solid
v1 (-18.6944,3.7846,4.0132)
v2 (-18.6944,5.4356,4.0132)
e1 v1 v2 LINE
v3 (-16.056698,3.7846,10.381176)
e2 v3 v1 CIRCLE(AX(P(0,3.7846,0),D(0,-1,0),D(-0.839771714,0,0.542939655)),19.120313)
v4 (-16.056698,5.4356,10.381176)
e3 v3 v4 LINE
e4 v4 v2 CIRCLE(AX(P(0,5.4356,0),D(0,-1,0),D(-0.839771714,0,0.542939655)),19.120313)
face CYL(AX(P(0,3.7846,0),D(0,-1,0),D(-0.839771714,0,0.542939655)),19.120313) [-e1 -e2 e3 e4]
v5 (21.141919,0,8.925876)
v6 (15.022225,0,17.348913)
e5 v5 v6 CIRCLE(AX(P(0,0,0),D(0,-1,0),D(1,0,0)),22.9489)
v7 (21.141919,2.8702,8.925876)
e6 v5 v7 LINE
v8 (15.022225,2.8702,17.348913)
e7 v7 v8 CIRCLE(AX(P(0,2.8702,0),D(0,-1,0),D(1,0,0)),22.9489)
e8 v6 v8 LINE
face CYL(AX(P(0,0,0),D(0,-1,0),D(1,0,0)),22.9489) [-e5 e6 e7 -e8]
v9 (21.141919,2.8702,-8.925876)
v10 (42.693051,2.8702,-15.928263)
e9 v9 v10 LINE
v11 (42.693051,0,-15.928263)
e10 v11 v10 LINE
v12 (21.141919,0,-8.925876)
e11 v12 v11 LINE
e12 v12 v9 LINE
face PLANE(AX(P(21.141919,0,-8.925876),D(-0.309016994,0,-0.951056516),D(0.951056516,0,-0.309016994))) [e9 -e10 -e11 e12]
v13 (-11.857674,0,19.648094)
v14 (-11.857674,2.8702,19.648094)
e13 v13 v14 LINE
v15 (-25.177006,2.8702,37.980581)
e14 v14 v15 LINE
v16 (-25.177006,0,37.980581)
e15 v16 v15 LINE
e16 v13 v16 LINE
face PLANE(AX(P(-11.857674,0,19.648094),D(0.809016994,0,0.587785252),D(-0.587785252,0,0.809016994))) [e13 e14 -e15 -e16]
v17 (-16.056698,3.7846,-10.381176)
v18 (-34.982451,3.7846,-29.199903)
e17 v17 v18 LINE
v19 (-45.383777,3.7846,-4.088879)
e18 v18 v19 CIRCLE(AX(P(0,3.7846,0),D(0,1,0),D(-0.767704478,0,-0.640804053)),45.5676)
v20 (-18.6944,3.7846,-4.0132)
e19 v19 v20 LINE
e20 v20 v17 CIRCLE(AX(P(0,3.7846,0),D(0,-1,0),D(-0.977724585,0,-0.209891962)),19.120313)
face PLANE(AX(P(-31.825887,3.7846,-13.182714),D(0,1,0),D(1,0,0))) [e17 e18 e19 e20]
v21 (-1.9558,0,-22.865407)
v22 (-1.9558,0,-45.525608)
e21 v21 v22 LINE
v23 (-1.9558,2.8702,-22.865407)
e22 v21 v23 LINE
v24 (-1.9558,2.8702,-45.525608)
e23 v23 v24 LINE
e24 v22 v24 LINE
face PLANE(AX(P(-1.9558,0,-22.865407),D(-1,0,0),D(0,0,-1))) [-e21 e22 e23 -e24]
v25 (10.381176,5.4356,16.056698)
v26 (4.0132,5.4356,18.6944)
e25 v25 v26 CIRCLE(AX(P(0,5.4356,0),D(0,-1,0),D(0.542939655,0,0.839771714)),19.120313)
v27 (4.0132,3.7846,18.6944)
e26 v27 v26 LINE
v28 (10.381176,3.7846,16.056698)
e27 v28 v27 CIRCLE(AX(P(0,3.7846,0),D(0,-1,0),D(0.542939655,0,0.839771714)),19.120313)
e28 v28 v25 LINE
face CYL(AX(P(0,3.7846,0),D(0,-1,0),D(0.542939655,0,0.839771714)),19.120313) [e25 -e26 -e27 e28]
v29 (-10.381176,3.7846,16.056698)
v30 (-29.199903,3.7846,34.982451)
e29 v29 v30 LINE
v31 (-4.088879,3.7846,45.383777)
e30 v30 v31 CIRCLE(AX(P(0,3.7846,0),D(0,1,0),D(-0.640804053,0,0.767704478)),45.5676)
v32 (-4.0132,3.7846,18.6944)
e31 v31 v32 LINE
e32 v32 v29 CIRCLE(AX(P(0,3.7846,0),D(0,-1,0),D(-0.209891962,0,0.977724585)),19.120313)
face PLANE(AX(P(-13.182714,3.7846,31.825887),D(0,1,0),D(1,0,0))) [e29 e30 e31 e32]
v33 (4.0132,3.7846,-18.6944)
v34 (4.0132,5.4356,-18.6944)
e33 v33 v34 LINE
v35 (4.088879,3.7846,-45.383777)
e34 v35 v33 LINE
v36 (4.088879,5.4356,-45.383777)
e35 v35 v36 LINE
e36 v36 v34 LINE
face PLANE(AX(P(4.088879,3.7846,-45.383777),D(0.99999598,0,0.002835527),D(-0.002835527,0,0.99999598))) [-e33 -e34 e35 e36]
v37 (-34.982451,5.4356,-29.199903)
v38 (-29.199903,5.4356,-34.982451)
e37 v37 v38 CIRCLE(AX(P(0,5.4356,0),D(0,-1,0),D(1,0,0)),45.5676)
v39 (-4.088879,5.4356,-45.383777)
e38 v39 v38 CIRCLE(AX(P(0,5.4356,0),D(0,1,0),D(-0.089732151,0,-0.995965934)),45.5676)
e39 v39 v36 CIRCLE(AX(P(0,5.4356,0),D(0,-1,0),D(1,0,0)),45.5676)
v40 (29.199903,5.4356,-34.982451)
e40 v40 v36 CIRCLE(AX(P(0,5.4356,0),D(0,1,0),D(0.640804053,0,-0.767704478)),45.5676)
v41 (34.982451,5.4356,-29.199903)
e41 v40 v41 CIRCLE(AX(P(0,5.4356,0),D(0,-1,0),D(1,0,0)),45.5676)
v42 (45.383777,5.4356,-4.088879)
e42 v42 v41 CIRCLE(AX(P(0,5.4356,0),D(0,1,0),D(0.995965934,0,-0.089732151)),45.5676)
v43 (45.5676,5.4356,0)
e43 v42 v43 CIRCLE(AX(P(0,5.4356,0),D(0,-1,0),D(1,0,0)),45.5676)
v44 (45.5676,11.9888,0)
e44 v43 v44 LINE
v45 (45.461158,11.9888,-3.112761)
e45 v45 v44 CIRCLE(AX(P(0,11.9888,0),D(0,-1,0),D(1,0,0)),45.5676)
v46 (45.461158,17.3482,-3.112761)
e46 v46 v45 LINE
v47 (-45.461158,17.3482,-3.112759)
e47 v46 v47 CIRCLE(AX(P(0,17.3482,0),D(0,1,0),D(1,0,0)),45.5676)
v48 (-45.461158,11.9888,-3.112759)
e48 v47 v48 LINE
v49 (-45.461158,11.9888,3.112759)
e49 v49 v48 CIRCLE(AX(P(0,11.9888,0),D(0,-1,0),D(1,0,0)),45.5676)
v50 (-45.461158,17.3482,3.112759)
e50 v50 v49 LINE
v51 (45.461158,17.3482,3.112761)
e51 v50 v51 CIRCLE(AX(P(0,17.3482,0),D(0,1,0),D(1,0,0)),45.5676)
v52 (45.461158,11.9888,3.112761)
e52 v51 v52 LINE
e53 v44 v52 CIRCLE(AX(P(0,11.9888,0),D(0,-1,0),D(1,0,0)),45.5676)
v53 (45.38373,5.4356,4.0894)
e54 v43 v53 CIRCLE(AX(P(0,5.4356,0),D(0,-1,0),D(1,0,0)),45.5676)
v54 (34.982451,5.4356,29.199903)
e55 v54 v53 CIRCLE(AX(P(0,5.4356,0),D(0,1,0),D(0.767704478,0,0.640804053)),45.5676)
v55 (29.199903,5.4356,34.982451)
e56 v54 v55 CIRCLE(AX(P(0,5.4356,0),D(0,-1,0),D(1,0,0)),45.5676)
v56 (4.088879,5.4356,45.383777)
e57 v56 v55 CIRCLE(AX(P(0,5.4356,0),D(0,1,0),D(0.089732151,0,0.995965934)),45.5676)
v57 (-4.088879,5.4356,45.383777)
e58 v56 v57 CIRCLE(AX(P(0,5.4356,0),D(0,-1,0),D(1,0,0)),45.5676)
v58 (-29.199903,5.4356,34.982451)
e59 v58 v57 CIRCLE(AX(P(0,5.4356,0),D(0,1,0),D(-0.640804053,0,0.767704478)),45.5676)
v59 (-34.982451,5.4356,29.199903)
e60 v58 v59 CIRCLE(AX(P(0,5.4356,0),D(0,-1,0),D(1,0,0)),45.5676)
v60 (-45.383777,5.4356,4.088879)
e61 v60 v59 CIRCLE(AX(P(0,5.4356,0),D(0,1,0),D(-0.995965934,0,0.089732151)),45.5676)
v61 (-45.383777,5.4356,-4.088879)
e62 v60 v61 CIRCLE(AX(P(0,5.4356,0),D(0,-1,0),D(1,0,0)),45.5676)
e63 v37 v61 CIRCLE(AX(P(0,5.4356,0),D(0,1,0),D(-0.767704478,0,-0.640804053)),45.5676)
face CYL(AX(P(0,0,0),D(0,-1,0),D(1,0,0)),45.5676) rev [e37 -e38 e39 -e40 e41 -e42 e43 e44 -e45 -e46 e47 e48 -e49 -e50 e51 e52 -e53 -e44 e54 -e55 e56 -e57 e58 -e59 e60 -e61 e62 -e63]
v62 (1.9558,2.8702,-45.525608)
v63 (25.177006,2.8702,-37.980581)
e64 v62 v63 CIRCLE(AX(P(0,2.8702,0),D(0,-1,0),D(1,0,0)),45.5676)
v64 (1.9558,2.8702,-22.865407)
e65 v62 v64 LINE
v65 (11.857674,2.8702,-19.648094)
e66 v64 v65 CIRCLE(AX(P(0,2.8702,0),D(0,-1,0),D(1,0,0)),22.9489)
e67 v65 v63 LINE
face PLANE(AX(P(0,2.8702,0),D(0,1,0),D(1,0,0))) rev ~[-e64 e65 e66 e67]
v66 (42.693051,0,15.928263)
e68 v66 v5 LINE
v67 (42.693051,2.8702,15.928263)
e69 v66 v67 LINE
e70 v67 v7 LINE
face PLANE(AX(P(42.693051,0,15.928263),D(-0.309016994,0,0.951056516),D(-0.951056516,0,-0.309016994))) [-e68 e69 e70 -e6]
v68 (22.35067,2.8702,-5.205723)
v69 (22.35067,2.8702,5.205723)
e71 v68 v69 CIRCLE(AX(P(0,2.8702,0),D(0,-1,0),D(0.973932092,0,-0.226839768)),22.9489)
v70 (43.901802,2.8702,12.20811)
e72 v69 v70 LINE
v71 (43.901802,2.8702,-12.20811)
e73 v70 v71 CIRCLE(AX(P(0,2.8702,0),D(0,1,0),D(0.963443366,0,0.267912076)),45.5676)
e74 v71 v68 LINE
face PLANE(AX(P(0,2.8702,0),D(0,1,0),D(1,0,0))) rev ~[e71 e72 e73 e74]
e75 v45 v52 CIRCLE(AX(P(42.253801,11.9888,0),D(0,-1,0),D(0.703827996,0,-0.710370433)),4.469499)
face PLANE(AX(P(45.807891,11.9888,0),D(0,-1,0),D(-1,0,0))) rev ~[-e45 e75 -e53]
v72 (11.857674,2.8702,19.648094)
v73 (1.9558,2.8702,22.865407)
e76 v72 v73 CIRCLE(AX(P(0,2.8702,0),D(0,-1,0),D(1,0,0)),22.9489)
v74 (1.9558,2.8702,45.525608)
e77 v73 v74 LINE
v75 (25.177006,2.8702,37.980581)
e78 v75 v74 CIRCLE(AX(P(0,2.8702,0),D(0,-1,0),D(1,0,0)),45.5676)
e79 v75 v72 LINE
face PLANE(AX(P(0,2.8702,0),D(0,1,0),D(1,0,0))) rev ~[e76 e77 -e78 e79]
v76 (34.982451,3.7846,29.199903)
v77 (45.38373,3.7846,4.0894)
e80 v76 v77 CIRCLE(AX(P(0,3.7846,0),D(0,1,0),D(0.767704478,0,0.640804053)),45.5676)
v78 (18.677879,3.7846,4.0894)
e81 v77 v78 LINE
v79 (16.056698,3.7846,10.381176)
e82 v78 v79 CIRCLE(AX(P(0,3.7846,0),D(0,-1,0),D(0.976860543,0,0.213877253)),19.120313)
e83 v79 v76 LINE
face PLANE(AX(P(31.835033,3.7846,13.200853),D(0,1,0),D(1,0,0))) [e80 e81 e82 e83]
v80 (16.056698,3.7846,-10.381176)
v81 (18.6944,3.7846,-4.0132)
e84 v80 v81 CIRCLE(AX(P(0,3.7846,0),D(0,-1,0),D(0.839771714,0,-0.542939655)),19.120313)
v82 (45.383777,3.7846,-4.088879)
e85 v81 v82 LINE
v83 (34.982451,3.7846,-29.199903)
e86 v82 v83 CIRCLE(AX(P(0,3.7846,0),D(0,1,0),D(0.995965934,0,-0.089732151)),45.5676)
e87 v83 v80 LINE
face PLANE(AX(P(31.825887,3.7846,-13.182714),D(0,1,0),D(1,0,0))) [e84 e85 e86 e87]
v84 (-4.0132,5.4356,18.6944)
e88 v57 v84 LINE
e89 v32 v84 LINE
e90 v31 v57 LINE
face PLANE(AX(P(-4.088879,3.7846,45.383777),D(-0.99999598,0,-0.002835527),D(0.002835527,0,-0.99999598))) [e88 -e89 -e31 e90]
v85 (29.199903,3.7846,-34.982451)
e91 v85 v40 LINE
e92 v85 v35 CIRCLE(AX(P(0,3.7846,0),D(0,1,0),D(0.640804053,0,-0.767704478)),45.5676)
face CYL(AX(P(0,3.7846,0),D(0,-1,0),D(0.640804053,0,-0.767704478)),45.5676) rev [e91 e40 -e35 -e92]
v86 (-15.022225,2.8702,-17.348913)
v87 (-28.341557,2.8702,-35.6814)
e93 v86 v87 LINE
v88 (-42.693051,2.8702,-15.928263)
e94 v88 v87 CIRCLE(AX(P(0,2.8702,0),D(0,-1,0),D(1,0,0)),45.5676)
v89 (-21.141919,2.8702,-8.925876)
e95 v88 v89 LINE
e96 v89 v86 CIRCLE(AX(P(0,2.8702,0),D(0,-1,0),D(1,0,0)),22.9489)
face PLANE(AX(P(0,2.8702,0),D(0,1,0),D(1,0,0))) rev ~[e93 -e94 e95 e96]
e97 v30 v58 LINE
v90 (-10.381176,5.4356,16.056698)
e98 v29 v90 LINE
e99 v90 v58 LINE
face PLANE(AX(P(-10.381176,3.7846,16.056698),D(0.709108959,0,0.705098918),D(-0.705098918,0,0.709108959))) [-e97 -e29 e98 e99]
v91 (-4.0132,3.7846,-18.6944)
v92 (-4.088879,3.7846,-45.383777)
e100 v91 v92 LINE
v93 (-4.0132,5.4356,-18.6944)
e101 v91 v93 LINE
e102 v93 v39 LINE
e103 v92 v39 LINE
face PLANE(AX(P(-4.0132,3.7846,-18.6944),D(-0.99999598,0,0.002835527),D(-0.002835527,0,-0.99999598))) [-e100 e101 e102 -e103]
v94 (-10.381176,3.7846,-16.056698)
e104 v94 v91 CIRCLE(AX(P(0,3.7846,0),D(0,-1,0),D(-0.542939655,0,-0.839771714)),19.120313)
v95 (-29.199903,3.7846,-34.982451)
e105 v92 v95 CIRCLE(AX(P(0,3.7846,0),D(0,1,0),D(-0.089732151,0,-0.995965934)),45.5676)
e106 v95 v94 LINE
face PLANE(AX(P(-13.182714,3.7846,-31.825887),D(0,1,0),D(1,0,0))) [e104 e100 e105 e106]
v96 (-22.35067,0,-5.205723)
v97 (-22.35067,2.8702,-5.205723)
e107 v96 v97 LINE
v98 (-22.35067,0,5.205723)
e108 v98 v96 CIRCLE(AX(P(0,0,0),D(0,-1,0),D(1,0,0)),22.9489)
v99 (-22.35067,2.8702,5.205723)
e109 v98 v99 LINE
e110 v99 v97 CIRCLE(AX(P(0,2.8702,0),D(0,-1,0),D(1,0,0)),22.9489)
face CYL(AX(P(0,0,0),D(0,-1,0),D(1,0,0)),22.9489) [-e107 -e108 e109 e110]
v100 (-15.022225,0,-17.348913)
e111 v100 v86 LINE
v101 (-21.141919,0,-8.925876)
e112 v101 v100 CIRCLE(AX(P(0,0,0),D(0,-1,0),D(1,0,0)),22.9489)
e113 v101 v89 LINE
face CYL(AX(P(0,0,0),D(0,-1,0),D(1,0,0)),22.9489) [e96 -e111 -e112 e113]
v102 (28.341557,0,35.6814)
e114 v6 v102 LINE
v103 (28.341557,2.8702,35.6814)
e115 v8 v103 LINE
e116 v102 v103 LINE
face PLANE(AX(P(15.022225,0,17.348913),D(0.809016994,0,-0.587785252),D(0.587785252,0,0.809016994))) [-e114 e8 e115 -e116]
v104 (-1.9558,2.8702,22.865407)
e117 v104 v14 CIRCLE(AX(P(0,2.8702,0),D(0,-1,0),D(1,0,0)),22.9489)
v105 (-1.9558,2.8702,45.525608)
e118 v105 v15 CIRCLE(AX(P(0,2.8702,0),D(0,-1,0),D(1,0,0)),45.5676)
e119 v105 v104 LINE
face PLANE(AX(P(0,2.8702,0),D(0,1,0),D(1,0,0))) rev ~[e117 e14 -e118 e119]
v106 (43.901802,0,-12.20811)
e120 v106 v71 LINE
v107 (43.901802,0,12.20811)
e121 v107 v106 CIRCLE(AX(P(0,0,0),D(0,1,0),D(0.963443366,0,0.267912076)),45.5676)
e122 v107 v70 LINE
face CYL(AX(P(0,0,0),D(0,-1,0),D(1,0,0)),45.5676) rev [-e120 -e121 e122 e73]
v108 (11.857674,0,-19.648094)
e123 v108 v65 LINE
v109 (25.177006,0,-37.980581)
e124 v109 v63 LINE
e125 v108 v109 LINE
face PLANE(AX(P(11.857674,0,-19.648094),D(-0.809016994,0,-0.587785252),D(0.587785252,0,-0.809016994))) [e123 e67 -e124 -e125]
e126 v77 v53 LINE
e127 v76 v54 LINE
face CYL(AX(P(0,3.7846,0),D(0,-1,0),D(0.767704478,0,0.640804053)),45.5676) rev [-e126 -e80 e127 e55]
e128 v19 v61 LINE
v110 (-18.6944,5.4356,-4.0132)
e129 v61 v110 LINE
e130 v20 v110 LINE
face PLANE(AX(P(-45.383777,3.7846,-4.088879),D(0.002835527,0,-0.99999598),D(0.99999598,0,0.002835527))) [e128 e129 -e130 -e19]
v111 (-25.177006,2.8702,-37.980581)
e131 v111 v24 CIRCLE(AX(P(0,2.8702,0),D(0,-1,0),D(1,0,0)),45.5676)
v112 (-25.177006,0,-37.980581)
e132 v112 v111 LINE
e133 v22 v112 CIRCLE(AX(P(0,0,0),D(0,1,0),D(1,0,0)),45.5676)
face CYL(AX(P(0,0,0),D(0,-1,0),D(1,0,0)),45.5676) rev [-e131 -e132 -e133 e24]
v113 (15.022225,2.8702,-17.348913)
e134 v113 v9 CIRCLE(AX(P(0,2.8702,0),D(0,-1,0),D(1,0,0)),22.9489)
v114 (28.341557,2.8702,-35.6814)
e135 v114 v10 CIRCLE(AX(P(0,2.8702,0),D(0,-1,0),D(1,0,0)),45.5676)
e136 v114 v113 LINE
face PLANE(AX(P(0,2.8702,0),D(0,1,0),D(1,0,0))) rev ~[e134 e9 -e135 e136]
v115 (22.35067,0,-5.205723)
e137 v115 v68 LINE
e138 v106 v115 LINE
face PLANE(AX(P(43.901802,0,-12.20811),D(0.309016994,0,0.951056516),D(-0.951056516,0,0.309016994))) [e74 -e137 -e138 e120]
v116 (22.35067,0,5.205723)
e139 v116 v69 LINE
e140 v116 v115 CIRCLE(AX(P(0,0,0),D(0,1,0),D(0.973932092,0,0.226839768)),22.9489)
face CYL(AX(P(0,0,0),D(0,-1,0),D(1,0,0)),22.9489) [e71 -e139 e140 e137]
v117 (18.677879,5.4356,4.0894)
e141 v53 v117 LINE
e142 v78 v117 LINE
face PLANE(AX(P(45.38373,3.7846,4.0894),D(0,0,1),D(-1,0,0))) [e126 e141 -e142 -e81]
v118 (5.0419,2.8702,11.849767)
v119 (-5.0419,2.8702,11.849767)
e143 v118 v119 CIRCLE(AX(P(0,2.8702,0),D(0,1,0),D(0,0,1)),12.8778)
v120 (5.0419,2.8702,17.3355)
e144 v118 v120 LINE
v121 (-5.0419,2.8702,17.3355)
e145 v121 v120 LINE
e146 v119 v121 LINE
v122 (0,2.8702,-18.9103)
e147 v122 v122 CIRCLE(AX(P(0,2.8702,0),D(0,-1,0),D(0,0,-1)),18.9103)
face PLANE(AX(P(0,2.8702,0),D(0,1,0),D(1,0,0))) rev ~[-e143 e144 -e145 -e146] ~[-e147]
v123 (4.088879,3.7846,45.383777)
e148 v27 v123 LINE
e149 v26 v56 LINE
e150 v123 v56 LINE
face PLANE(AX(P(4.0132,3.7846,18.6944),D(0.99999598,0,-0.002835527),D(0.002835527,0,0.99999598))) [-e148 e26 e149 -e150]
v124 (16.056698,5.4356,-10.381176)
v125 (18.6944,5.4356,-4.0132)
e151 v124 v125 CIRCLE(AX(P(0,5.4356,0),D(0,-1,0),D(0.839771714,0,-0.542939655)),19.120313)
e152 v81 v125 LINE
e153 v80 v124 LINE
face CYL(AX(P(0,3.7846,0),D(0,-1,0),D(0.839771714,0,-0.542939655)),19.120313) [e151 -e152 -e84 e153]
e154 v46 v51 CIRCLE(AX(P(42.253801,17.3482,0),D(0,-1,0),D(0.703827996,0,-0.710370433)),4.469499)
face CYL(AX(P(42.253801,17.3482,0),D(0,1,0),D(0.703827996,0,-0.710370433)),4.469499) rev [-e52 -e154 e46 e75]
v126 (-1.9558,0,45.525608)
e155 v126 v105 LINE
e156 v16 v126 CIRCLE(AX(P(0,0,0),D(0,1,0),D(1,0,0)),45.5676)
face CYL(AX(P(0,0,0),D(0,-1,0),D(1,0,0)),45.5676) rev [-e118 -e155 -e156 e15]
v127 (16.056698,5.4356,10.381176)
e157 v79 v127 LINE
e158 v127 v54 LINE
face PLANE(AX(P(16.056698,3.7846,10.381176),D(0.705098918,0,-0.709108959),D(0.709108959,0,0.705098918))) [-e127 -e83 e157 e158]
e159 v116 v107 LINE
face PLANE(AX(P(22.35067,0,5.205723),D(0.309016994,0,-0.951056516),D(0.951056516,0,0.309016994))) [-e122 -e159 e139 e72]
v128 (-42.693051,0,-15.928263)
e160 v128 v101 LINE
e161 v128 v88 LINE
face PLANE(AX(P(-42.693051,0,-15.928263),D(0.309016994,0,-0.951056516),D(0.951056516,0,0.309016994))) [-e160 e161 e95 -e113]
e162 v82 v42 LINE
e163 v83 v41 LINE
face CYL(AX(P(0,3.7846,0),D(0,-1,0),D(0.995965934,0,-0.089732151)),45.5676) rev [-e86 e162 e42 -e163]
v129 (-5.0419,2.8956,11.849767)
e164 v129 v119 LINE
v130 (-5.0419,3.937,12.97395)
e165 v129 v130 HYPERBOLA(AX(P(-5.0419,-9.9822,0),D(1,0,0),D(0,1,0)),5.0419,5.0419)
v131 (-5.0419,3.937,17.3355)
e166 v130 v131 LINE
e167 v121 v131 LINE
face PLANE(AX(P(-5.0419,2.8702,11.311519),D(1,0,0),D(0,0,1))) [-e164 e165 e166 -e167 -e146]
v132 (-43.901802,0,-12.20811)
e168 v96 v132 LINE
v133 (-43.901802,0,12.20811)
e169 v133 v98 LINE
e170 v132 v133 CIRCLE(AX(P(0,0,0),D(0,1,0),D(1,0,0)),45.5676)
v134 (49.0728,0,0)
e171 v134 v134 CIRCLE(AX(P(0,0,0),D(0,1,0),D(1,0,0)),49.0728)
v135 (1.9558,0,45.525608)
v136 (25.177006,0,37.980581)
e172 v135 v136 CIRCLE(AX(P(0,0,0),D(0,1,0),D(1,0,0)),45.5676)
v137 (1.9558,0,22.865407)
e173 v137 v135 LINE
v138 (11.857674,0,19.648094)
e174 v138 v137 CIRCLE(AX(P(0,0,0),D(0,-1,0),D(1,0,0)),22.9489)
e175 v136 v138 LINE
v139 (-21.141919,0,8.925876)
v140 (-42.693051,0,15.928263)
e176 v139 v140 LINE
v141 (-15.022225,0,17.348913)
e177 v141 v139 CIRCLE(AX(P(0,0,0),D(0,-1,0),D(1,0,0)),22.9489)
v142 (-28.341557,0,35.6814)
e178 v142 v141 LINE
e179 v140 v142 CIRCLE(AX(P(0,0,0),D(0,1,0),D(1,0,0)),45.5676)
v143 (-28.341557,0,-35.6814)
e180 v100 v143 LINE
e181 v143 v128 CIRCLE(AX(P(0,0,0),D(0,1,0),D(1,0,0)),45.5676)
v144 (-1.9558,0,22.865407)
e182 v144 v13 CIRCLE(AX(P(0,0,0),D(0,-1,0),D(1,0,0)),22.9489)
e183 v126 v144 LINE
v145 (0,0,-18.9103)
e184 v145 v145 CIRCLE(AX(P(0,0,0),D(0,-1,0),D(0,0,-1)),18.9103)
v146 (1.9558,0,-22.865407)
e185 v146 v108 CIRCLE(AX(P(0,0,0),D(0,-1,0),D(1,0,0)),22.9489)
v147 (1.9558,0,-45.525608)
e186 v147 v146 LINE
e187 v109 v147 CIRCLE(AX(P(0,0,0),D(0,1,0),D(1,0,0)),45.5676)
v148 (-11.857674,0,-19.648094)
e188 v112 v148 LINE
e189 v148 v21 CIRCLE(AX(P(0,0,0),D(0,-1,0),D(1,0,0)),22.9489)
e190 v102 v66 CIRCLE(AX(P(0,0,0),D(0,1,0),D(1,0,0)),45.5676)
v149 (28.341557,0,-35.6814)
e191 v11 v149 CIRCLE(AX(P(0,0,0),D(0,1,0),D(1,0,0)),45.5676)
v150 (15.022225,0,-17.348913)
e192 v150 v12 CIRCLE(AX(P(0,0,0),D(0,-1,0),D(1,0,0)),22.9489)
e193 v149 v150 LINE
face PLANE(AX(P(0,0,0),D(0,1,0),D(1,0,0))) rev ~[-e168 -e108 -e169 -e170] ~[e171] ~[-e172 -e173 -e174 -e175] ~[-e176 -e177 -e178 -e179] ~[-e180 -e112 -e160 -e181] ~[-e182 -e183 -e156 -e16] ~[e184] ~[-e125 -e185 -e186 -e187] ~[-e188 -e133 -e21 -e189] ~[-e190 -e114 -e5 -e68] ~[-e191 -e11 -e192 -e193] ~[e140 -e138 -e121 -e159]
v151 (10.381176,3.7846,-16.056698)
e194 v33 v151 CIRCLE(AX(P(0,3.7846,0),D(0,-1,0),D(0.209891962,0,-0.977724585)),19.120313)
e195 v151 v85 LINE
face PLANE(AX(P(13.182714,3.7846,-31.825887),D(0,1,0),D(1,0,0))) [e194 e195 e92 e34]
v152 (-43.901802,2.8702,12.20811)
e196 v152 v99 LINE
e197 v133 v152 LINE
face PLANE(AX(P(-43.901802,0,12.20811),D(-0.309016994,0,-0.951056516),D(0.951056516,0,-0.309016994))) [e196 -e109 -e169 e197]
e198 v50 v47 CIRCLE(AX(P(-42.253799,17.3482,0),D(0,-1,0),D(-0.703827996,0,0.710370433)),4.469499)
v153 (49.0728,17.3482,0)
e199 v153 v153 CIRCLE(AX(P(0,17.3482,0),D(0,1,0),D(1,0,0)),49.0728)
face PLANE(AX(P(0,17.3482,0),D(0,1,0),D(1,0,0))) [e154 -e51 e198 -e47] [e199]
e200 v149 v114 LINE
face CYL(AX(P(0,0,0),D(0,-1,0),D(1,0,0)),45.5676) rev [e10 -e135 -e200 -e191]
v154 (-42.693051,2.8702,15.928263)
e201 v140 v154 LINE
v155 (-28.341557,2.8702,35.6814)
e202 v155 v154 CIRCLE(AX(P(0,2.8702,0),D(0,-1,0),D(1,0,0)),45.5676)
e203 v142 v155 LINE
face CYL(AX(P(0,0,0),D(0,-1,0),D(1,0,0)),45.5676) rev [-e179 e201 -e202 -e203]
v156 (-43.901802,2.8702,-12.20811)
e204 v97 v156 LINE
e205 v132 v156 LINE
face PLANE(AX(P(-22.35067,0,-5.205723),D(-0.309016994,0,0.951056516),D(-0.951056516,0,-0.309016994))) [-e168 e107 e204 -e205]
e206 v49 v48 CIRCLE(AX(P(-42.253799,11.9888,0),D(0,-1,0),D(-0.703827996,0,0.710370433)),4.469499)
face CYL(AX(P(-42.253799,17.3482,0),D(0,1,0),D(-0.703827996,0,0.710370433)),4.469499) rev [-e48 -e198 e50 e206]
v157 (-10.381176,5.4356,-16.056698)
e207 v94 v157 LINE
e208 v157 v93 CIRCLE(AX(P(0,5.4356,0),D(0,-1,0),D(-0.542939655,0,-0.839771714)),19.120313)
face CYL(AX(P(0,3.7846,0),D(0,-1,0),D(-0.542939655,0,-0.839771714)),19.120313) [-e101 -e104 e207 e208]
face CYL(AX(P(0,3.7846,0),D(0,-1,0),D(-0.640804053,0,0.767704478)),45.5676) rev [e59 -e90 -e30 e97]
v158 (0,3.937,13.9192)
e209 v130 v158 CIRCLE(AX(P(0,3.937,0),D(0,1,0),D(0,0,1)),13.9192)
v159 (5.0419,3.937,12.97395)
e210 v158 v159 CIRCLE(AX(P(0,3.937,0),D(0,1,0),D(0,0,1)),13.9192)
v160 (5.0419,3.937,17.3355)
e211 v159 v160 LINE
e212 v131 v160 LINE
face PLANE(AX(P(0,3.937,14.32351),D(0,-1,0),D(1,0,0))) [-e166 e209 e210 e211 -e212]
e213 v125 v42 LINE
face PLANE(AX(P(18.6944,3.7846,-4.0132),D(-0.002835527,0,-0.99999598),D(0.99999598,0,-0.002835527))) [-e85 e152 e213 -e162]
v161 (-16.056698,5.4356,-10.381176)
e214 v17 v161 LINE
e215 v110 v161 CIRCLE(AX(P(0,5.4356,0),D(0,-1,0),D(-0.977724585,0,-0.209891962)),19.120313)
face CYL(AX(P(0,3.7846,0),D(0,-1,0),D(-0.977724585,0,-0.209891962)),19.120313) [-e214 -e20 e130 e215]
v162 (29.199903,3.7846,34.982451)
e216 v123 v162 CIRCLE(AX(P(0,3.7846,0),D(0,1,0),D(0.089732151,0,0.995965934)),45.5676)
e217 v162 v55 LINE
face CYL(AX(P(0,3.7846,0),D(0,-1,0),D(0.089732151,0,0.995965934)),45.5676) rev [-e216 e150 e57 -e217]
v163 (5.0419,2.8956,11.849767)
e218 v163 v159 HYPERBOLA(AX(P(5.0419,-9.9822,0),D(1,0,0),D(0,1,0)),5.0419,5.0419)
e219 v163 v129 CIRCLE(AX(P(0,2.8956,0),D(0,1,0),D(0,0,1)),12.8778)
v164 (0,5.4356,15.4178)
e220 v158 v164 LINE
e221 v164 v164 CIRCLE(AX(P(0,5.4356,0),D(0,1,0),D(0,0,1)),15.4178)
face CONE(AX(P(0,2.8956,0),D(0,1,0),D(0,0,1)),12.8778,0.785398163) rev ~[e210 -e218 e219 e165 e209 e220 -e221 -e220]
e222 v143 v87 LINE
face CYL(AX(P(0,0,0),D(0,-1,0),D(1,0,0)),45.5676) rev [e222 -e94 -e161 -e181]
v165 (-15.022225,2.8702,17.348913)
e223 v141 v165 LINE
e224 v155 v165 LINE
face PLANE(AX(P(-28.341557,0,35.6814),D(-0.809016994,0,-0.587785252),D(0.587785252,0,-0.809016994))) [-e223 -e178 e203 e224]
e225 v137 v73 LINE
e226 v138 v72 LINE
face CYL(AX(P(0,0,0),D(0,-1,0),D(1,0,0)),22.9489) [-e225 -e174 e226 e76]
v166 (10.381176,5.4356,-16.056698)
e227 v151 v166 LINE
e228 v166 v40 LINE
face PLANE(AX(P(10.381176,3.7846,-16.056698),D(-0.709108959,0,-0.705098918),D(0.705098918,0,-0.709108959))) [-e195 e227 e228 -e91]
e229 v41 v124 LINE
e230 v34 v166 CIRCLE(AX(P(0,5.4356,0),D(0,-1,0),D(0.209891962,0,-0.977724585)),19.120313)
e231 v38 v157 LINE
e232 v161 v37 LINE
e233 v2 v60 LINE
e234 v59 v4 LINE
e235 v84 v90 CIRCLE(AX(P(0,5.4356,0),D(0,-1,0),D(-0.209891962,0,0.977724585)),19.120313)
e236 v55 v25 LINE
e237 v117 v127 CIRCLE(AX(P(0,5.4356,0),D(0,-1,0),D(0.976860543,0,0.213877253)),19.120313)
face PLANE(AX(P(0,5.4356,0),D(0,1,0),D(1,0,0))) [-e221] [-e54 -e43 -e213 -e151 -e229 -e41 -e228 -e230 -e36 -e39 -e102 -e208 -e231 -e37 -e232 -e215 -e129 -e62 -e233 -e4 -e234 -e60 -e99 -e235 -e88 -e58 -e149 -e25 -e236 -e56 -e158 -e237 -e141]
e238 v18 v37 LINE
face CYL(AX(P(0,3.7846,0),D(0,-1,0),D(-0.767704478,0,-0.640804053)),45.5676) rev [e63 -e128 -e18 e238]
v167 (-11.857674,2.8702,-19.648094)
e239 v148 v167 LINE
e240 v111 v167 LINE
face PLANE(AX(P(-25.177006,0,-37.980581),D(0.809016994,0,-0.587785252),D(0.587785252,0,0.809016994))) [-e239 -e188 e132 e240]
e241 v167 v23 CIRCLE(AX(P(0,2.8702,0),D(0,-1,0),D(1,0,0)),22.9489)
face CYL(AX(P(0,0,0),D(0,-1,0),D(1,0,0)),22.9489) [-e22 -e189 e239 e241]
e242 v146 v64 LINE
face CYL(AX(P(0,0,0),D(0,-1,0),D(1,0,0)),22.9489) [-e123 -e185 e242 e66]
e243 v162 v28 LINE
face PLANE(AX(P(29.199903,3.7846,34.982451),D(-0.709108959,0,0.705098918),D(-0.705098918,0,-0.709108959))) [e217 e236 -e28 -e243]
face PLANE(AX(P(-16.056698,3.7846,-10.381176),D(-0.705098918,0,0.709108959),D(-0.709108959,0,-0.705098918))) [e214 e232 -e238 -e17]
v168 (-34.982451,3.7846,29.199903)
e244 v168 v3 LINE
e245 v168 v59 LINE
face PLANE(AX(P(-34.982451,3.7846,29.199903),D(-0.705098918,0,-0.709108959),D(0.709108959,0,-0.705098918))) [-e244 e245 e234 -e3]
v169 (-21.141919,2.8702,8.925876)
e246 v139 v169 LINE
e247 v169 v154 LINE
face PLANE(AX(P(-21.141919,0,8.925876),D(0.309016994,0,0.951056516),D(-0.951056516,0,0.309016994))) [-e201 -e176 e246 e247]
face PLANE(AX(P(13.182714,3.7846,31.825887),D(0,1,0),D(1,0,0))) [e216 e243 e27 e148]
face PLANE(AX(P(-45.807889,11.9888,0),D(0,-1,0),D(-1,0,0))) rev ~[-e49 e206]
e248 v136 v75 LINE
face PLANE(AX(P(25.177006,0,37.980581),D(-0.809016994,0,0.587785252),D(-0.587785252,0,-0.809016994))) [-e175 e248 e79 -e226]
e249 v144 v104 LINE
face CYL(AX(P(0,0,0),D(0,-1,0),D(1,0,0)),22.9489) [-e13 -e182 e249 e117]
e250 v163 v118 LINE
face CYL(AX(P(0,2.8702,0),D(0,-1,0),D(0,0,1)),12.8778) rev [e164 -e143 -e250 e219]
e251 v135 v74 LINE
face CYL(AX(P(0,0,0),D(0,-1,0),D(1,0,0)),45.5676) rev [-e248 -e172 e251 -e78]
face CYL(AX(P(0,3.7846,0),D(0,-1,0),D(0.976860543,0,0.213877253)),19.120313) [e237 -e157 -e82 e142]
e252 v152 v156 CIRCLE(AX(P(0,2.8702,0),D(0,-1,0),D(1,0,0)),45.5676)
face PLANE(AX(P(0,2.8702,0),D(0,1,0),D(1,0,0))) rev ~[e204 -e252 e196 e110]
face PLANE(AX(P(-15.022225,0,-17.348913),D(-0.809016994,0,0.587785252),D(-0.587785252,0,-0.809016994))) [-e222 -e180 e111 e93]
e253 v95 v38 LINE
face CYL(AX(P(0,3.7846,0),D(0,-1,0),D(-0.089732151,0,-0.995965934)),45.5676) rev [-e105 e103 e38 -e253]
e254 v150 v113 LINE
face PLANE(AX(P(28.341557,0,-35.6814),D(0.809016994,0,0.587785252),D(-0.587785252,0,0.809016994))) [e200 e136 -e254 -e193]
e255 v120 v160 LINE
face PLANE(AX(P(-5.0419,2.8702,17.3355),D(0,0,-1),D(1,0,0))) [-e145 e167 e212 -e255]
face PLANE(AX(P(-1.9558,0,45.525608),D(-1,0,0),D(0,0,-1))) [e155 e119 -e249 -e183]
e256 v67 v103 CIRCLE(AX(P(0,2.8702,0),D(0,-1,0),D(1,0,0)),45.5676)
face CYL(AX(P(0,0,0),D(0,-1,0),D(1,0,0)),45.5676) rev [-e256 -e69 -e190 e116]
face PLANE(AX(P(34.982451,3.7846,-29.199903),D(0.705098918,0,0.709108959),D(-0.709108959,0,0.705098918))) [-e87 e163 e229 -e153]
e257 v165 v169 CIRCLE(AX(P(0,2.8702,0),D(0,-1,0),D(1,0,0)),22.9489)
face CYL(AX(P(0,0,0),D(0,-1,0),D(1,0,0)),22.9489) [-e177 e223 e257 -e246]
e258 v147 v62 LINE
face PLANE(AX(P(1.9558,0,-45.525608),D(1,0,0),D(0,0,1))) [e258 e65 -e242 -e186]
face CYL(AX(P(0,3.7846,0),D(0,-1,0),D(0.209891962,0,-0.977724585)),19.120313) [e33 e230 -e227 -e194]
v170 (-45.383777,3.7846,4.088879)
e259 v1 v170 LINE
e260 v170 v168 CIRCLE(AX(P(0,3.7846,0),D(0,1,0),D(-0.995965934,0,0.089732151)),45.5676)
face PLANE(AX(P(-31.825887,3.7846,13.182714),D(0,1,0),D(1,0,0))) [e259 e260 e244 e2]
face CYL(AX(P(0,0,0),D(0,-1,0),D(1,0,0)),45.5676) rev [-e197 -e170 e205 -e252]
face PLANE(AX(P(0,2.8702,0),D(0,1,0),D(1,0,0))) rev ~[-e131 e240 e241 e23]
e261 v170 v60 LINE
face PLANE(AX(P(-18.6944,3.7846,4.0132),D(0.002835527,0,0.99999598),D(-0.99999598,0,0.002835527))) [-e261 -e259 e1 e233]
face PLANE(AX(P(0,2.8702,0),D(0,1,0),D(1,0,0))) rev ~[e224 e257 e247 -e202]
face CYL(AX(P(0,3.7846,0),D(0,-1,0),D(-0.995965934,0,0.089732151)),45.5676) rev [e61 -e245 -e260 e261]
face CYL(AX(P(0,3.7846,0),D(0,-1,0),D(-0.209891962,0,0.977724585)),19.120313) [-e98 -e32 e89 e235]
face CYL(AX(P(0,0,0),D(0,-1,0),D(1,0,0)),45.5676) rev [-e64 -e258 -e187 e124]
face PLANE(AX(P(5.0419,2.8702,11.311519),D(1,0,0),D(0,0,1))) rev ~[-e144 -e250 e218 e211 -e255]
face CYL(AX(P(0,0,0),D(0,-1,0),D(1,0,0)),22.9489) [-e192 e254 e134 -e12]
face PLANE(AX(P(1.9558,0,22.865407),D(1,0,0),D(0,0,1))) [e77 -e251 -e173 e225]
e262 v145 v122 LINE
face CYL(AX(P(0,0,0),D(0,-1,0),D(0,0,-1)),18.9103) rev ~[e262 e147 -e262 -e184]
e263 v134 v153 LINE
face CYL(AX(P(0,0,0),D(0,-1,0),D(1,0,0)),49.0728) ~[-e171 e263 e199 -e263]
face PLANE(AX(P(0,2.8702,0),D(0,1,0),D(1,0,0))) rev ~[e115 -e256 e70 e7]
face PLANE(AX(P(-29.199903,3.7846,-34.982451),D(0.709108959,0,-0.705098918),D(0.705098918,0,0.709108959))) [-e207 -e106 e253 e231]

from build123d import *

# Parameters (mm, degrees)
SKETCH1_R           = 49.0728
SKETCH1_R_2         = 45.5676
EXTRUDE_THIN1_DEPTH = 17.3482
SKETCH2_R           = 18.9103
BOSS_EXTRUDE1_DEPTH = 2.8702
SKETCH3_R           = 48.26
SKETCH3_R_2         = 12.8778
BOSS_EXTRUDE2_DEPTH = 2.5654
CHAMFER1_SIZE       = 2.54
SKETCH4_W           = 10.0838
SKETCH4_H           = 6.023980684
CUT_EXTRUDE1_DEPTH  = 1.0668
CUT_EXTRUDE2_START  = -1.651
CUT_EXTRUDE2_DEPTH  = 1.651
CUT_EXTRUDE3_DEPTH  = 5.3594


with BuildPart() as part:
    # Sketch1 → Extrude-Thin1 (new body)
    with BuildSketch(Plane(origin=(0, 0, 0), x_dir=(1, 0, 0), z_dir=(0, 1, 0))):
        Circle(SKETCH1_R)
        Circle(SKETCH1_R_2, mode=Mode.SUBTRACT)
    extrude(amount=EXTRUDE_THIN1_DEPTH)



with BuildPart() as body_2:
    # Sketch2 → Boss-Extrude1 (new body)
    with BuildSketch(Plane.XZ):
        with BuildLine():
            Line((-1.9558, 45.525608355), (-1.9558, 22.865407444))
            ThreePointArc((-1.9558, 22.865407444), (-7.091600102, 21.825700887), (-11.857673846, 19.648093602))
            Line((-11.857673846, 19.648093602), (-25.177005755, 37.980581235))
            ThreePointArc((-25.177005755, 37.980581235), (-26.783963262, 36.864962793), (-28.34155663, 35.681400442))
            Line((-28.34155663, 35.681400442), (-15.022224721, 17.348912809))
            ThreePointArc((-15.022224721, 17.348912809), (-18.566050102, 13.489024976), (-21.14191931, 8.925875818))
            Line((-21.14191931, 8.925875818), (-42.693051047, 15.928262996))
            ThreePointArc((-42.693051047, 15.928262996), (-43.337362912, 14.081162793), (-43.901801922, 12.208110326))
            Line((-43.901801922, 12.208110326), (-22.350670185, 5.205723149))
            ThreePointArc((-22.350670185, 5.205723149), (-22.9489, 0), (-22.350670185, -5.205723149))
            Line((-22.350670185, -5.205723149), (-43.901801922, -12.208110326))
            ThreePointArc((-43.901801922, -12.208110326), (-43.337362912, -14.081162793), (-42.693051047, -15.928262996))
            Line((-42.693051047, -15.928262996), (-21.14191931, -8.925875818))
            ThreePointArc((-21.14191931, -8.925875818), (-18.566050102, -13.489024976), (-15.022224721, -17.348912809))
            Line((-15.022224721, -17.348912809), (-28.34155663, -35.681400442))
            ThreePointArc((-28.34155663, -35.681400442), (-26.783963262, -36.864962793), (-25.177005755, -37.980581235))
            Line((-25.177005755, -37.980581235), (-11.857673846, -19.648093602))
            ThreePointArc((-11.857673846, -19.648093602), (-7.091600102, -21.825700887), (-1.9558, -22.865407444))
            Line((-1.9558, -22.865407444), (-1.9558, -45.525608355))
            ThreePointArc((-1.9558, -45.525608355), (0, -45.5676), (1.9558, -45.525608355))
            Line((1.9558, -45.525608355), (1.9558, -22.865407444))
            ThreePointArc((1.9558, -22.865407444), (7.091600102, -21.825700887), (11.857673846, -19.648093602))
            Line((11.857673846, -19.648093602), (25.177005755, -37.980581235))
            ThreePointArc((25.177005755, -37.980581235), (26.783963262, -36.864962793), (28.34155663, -35.681400442))
            Line((28.34155663, -35.681400442), (15.022224721, -17.348912809))
            ThreePointArc((15.022224721, -17.348912809), (18.566050102, -13.489024976), (21.14191931, -8.925875818))
            Line((21.14191931, -8.925875818), (42.693051047, -15.928262996))
            ThreePointArc((42.693051047, -15.928262996), (43.337362912, -14.081162793), (43.901801922, -12.208110326))
            Line((43.901801922, -12.208110326), (22.350670185, -5.205723149))
            ThreePointArc((22.350670185, -5.205723149), (22.9489, 0), (22.350670185, 5.205723149))
            Line((22.350670185, 5.205723149), (43.901801922, 12.208110326))
            ThreePointArc((43.901801922, 12.208110326), (43.337362912, 14.081162793), (42.693051047, 15.928262996))
            Line((42.693051047, 15.928262996), (21.14191931, 8.925875818))
            ThreePointArc((21.14191931, 8.925875818), (18.566050102, 13.489024976), (15.022224721, 17.348912809))
            Line((15.022224721, 17.348912809), (28.34155663, 35.681400442))
            ThreePointArc((28.34155663, 35.681400442), (26.783963262, 36.864962793), (25.177005755, 37.980581235))
            Line((25.177005755, 37.980581235), (11.857673846, 19.648093602))
            ThreePointArc((11.857673846, 19.648093602), (7.091600102, 21.825700887), (1.9558, 22.865407444))
            Line((1.9558, 22.865407444), (1.9558, 45.525608355))
            ThreePointArc((1.9558, 45.525608355), (0, 45.5676), (-1.9558, 45.525608355))
        make_face()
        Circle(SKETCH2_R, mode=Mode.SUBTRACT)
    extrude(amount=-BOSS_EXTRUDE1_DEPTH)


with BuildPart() as part_1:
    add(part.part)

    add(body_2.part)  # Boss-Extrude2 merges body 2
    # Sketch3 → Boss-Extrude2 (add)
    with BuildSketch(Plane(origin=(0, 2.8702, 0), x_dir=(1, 0, 0), z_dir=(0, 1, 0))):
        Circle(SKETCH3_R)
        Circle(SKETCH3_R_2, mode=Mode.SUBTRACT)
    extrude(amount=BOSS_EXTRUDE2_DEPTH)

    # Chamfer1
    chamfer1_edges = [part_1.edges().sort_by_distance(p)[0] for p in [
        (-12.8778, 5.4356, 0),
    ]]
    chamfer(chamfer1_edges, length=CHAMFER1_SIZE)

    # Sketch4 → Cut-Extrude1 (cut)
    with BuildSketch(Plane.XZ.offset(-2.8702)):
        with Locations((0, 14.323509658)):
            Rectangle(SKETCH4_W, SKETCH4_H)
    extrude(amount=-CUT_EXTRUDE1_DEPTH, mode=Mode.SUBTRACT)

    # Sketch6 → Cut-Extrude2 (cut)
    with BuildSketch(Plane(origin=(0, 5.4356, 0), x_dir=(1, 0, 0), z_dir=(0, 1, 0)).offset(CUT_EXTRUDE2_START)):
        with BuildLine():
            Line((-4.0132, 18.6944), (-4.088878764, 45.38377728))
            ThreePointArc((-4.088878764, 45.38377728), (-17.437965573, 42.098972986), (-29.19990277, 34.982450572))
            Line((-29.19990277, 34.982450572), (-10.381176076, 16.056697944))
            ThreePointArc((-10.381176076, 16.056697944), (-7.317026971, 17.664865749), (-4.0132, 18.6944))
        make_face()
        with BuildLine():
            ThreePointArc((29.19990277, 34.982450572), (17.437965573, 42.098972986), (4.088878764, 45.38377728))
            Line((4.088878764, 45.38377728), (4.0132, 18.6944))
            ThreePointArc((4.0132, 18.6944), (7.317026971, 17.664865749), (10.381176076, 16.056697944))
            Line((10.381176076, 16.056697944), (29.19990277, 34.982450572))
        make_face()
        with BuildLine():
            ThreePointArc((-18.6944, 4.0132), (-17.664865749, 7.317026971), (-16.056697944, 10.381176076))
            Line((-16.056697944, 10.381176076), (-34.982450572, 29.19990277))
            ThreePointArc((-34.982450572, 29.19990277), (-42.098972986, 17.437965573), (-45.38377728, 4.088878764))
            Line((-45.38377728, 4.088878764), (-18.6944, 4.0132))
        make_face()
        with BuildLine():
            Line((34.982450572, 29.19990277), (16.056697944, 10.381176076))
            ThreePointArc((16.056697944, 10.381176076), (17.664865749, 7.317026971), (18.6944, 4.0132))
            Line((18.6944, 4.0132), (45.38377728, 4.088878764))
            ThreePointArc((45.38377728, 4.088878764), (42.098972986, 17.437965573), (34.982450572, 29.19990277))
        make_face()
        with BuildLine():
            ThreePointArc((-16.056697944, -10.381176076), (-17.664865749, -7.317026971), (-18.6944, -4.0132))
            Line((-18.6944, -4.0132), (-45.38377728, -4.088878764))
            ThreePointArc((-45.38377728, -4.088878764), (-42.098972986, -17.437965573), (-34.982450572, -29.19990277))
            Line((-34.982450572, -29.19990277), (-16.056697944, -10.381176076))
        make_face()
        with BuildLine():
            Line((45.383730316, -4.0894), (18.677879249, -4.0894))
            ThreePointArc((18.677879249, -4.0894), (17.649910049, -7.353029366), (16.056697944, -10.381176076))
            Line((16.056697944, -10.381176076), (34.982450572, -29.19990277))
            ThreePointArc((34.982450572, -29.19990277), (42.098872847, -17.438207328), (45.383730316, -4.0894))
        make_face()
        with BuildLine():
            ThreePointArc((-4.0132, -18.6944), (-7.317026971, -17.664865749), (-10.381176076, -16.056697944))
            Line((-10.381176076, -16.056697944), (-29.19990277, -34.982450572))
            ThreePointArc((-29.19990277, -34.982450572), (-17.437965573, -42.098972986), (-4.088878764, -45.38377728))
            Line((-4.088878764, -45.38377728), (-4.0132, -18.6944))
        make_face()
        with BuildLine():
            Line((29.19990277, -34.982450572), (10.381176076, -16.056697944))
            ThreePointArc((10.381176076, -16.056697944), (7.317026971, -17.664865749), (4.0132, -18.6944))
            Line((4.0132, -18.6944), (4.088878764, -45.38377728))
            ThreePointArc((4.088878764, -45.38377728), (17.437965573, -42.098972986), (29.19990277, -34.982450572))
        make_face()
    extrude(amount=CUT_EXTRUDE2_DEPTH, mode=Mode.SUBTRACT)

    # Sketch7 → Cut-Extrude3 (cut)
    with BuildSketch(Plane(origin=(0, 17.3482, 0), x_dir=(1, 0, 0), z_dir=(0, 1, 0))):
        with BuildLine():
            Line((-45.399557639, 3.175), (-45.399557639, -3.175))
            ThreePointArc((-45.399557639, -3.175), (-46.72329814, 0), (-45.399557639, 3.175))
        make_face()
        with BuildLine():
            Line((45.3995595, -3.175), (45.3995595, 3.175))
            ThreePointArc((45.3995595, 3.175), (46.7233, 0), (45.3995595, -3.175))
        make_face()
    extrude(amount=-CUT_EXTRUDE3_DEPTH, mode=Mode.SUBTRACT)


solid = part_1.part
